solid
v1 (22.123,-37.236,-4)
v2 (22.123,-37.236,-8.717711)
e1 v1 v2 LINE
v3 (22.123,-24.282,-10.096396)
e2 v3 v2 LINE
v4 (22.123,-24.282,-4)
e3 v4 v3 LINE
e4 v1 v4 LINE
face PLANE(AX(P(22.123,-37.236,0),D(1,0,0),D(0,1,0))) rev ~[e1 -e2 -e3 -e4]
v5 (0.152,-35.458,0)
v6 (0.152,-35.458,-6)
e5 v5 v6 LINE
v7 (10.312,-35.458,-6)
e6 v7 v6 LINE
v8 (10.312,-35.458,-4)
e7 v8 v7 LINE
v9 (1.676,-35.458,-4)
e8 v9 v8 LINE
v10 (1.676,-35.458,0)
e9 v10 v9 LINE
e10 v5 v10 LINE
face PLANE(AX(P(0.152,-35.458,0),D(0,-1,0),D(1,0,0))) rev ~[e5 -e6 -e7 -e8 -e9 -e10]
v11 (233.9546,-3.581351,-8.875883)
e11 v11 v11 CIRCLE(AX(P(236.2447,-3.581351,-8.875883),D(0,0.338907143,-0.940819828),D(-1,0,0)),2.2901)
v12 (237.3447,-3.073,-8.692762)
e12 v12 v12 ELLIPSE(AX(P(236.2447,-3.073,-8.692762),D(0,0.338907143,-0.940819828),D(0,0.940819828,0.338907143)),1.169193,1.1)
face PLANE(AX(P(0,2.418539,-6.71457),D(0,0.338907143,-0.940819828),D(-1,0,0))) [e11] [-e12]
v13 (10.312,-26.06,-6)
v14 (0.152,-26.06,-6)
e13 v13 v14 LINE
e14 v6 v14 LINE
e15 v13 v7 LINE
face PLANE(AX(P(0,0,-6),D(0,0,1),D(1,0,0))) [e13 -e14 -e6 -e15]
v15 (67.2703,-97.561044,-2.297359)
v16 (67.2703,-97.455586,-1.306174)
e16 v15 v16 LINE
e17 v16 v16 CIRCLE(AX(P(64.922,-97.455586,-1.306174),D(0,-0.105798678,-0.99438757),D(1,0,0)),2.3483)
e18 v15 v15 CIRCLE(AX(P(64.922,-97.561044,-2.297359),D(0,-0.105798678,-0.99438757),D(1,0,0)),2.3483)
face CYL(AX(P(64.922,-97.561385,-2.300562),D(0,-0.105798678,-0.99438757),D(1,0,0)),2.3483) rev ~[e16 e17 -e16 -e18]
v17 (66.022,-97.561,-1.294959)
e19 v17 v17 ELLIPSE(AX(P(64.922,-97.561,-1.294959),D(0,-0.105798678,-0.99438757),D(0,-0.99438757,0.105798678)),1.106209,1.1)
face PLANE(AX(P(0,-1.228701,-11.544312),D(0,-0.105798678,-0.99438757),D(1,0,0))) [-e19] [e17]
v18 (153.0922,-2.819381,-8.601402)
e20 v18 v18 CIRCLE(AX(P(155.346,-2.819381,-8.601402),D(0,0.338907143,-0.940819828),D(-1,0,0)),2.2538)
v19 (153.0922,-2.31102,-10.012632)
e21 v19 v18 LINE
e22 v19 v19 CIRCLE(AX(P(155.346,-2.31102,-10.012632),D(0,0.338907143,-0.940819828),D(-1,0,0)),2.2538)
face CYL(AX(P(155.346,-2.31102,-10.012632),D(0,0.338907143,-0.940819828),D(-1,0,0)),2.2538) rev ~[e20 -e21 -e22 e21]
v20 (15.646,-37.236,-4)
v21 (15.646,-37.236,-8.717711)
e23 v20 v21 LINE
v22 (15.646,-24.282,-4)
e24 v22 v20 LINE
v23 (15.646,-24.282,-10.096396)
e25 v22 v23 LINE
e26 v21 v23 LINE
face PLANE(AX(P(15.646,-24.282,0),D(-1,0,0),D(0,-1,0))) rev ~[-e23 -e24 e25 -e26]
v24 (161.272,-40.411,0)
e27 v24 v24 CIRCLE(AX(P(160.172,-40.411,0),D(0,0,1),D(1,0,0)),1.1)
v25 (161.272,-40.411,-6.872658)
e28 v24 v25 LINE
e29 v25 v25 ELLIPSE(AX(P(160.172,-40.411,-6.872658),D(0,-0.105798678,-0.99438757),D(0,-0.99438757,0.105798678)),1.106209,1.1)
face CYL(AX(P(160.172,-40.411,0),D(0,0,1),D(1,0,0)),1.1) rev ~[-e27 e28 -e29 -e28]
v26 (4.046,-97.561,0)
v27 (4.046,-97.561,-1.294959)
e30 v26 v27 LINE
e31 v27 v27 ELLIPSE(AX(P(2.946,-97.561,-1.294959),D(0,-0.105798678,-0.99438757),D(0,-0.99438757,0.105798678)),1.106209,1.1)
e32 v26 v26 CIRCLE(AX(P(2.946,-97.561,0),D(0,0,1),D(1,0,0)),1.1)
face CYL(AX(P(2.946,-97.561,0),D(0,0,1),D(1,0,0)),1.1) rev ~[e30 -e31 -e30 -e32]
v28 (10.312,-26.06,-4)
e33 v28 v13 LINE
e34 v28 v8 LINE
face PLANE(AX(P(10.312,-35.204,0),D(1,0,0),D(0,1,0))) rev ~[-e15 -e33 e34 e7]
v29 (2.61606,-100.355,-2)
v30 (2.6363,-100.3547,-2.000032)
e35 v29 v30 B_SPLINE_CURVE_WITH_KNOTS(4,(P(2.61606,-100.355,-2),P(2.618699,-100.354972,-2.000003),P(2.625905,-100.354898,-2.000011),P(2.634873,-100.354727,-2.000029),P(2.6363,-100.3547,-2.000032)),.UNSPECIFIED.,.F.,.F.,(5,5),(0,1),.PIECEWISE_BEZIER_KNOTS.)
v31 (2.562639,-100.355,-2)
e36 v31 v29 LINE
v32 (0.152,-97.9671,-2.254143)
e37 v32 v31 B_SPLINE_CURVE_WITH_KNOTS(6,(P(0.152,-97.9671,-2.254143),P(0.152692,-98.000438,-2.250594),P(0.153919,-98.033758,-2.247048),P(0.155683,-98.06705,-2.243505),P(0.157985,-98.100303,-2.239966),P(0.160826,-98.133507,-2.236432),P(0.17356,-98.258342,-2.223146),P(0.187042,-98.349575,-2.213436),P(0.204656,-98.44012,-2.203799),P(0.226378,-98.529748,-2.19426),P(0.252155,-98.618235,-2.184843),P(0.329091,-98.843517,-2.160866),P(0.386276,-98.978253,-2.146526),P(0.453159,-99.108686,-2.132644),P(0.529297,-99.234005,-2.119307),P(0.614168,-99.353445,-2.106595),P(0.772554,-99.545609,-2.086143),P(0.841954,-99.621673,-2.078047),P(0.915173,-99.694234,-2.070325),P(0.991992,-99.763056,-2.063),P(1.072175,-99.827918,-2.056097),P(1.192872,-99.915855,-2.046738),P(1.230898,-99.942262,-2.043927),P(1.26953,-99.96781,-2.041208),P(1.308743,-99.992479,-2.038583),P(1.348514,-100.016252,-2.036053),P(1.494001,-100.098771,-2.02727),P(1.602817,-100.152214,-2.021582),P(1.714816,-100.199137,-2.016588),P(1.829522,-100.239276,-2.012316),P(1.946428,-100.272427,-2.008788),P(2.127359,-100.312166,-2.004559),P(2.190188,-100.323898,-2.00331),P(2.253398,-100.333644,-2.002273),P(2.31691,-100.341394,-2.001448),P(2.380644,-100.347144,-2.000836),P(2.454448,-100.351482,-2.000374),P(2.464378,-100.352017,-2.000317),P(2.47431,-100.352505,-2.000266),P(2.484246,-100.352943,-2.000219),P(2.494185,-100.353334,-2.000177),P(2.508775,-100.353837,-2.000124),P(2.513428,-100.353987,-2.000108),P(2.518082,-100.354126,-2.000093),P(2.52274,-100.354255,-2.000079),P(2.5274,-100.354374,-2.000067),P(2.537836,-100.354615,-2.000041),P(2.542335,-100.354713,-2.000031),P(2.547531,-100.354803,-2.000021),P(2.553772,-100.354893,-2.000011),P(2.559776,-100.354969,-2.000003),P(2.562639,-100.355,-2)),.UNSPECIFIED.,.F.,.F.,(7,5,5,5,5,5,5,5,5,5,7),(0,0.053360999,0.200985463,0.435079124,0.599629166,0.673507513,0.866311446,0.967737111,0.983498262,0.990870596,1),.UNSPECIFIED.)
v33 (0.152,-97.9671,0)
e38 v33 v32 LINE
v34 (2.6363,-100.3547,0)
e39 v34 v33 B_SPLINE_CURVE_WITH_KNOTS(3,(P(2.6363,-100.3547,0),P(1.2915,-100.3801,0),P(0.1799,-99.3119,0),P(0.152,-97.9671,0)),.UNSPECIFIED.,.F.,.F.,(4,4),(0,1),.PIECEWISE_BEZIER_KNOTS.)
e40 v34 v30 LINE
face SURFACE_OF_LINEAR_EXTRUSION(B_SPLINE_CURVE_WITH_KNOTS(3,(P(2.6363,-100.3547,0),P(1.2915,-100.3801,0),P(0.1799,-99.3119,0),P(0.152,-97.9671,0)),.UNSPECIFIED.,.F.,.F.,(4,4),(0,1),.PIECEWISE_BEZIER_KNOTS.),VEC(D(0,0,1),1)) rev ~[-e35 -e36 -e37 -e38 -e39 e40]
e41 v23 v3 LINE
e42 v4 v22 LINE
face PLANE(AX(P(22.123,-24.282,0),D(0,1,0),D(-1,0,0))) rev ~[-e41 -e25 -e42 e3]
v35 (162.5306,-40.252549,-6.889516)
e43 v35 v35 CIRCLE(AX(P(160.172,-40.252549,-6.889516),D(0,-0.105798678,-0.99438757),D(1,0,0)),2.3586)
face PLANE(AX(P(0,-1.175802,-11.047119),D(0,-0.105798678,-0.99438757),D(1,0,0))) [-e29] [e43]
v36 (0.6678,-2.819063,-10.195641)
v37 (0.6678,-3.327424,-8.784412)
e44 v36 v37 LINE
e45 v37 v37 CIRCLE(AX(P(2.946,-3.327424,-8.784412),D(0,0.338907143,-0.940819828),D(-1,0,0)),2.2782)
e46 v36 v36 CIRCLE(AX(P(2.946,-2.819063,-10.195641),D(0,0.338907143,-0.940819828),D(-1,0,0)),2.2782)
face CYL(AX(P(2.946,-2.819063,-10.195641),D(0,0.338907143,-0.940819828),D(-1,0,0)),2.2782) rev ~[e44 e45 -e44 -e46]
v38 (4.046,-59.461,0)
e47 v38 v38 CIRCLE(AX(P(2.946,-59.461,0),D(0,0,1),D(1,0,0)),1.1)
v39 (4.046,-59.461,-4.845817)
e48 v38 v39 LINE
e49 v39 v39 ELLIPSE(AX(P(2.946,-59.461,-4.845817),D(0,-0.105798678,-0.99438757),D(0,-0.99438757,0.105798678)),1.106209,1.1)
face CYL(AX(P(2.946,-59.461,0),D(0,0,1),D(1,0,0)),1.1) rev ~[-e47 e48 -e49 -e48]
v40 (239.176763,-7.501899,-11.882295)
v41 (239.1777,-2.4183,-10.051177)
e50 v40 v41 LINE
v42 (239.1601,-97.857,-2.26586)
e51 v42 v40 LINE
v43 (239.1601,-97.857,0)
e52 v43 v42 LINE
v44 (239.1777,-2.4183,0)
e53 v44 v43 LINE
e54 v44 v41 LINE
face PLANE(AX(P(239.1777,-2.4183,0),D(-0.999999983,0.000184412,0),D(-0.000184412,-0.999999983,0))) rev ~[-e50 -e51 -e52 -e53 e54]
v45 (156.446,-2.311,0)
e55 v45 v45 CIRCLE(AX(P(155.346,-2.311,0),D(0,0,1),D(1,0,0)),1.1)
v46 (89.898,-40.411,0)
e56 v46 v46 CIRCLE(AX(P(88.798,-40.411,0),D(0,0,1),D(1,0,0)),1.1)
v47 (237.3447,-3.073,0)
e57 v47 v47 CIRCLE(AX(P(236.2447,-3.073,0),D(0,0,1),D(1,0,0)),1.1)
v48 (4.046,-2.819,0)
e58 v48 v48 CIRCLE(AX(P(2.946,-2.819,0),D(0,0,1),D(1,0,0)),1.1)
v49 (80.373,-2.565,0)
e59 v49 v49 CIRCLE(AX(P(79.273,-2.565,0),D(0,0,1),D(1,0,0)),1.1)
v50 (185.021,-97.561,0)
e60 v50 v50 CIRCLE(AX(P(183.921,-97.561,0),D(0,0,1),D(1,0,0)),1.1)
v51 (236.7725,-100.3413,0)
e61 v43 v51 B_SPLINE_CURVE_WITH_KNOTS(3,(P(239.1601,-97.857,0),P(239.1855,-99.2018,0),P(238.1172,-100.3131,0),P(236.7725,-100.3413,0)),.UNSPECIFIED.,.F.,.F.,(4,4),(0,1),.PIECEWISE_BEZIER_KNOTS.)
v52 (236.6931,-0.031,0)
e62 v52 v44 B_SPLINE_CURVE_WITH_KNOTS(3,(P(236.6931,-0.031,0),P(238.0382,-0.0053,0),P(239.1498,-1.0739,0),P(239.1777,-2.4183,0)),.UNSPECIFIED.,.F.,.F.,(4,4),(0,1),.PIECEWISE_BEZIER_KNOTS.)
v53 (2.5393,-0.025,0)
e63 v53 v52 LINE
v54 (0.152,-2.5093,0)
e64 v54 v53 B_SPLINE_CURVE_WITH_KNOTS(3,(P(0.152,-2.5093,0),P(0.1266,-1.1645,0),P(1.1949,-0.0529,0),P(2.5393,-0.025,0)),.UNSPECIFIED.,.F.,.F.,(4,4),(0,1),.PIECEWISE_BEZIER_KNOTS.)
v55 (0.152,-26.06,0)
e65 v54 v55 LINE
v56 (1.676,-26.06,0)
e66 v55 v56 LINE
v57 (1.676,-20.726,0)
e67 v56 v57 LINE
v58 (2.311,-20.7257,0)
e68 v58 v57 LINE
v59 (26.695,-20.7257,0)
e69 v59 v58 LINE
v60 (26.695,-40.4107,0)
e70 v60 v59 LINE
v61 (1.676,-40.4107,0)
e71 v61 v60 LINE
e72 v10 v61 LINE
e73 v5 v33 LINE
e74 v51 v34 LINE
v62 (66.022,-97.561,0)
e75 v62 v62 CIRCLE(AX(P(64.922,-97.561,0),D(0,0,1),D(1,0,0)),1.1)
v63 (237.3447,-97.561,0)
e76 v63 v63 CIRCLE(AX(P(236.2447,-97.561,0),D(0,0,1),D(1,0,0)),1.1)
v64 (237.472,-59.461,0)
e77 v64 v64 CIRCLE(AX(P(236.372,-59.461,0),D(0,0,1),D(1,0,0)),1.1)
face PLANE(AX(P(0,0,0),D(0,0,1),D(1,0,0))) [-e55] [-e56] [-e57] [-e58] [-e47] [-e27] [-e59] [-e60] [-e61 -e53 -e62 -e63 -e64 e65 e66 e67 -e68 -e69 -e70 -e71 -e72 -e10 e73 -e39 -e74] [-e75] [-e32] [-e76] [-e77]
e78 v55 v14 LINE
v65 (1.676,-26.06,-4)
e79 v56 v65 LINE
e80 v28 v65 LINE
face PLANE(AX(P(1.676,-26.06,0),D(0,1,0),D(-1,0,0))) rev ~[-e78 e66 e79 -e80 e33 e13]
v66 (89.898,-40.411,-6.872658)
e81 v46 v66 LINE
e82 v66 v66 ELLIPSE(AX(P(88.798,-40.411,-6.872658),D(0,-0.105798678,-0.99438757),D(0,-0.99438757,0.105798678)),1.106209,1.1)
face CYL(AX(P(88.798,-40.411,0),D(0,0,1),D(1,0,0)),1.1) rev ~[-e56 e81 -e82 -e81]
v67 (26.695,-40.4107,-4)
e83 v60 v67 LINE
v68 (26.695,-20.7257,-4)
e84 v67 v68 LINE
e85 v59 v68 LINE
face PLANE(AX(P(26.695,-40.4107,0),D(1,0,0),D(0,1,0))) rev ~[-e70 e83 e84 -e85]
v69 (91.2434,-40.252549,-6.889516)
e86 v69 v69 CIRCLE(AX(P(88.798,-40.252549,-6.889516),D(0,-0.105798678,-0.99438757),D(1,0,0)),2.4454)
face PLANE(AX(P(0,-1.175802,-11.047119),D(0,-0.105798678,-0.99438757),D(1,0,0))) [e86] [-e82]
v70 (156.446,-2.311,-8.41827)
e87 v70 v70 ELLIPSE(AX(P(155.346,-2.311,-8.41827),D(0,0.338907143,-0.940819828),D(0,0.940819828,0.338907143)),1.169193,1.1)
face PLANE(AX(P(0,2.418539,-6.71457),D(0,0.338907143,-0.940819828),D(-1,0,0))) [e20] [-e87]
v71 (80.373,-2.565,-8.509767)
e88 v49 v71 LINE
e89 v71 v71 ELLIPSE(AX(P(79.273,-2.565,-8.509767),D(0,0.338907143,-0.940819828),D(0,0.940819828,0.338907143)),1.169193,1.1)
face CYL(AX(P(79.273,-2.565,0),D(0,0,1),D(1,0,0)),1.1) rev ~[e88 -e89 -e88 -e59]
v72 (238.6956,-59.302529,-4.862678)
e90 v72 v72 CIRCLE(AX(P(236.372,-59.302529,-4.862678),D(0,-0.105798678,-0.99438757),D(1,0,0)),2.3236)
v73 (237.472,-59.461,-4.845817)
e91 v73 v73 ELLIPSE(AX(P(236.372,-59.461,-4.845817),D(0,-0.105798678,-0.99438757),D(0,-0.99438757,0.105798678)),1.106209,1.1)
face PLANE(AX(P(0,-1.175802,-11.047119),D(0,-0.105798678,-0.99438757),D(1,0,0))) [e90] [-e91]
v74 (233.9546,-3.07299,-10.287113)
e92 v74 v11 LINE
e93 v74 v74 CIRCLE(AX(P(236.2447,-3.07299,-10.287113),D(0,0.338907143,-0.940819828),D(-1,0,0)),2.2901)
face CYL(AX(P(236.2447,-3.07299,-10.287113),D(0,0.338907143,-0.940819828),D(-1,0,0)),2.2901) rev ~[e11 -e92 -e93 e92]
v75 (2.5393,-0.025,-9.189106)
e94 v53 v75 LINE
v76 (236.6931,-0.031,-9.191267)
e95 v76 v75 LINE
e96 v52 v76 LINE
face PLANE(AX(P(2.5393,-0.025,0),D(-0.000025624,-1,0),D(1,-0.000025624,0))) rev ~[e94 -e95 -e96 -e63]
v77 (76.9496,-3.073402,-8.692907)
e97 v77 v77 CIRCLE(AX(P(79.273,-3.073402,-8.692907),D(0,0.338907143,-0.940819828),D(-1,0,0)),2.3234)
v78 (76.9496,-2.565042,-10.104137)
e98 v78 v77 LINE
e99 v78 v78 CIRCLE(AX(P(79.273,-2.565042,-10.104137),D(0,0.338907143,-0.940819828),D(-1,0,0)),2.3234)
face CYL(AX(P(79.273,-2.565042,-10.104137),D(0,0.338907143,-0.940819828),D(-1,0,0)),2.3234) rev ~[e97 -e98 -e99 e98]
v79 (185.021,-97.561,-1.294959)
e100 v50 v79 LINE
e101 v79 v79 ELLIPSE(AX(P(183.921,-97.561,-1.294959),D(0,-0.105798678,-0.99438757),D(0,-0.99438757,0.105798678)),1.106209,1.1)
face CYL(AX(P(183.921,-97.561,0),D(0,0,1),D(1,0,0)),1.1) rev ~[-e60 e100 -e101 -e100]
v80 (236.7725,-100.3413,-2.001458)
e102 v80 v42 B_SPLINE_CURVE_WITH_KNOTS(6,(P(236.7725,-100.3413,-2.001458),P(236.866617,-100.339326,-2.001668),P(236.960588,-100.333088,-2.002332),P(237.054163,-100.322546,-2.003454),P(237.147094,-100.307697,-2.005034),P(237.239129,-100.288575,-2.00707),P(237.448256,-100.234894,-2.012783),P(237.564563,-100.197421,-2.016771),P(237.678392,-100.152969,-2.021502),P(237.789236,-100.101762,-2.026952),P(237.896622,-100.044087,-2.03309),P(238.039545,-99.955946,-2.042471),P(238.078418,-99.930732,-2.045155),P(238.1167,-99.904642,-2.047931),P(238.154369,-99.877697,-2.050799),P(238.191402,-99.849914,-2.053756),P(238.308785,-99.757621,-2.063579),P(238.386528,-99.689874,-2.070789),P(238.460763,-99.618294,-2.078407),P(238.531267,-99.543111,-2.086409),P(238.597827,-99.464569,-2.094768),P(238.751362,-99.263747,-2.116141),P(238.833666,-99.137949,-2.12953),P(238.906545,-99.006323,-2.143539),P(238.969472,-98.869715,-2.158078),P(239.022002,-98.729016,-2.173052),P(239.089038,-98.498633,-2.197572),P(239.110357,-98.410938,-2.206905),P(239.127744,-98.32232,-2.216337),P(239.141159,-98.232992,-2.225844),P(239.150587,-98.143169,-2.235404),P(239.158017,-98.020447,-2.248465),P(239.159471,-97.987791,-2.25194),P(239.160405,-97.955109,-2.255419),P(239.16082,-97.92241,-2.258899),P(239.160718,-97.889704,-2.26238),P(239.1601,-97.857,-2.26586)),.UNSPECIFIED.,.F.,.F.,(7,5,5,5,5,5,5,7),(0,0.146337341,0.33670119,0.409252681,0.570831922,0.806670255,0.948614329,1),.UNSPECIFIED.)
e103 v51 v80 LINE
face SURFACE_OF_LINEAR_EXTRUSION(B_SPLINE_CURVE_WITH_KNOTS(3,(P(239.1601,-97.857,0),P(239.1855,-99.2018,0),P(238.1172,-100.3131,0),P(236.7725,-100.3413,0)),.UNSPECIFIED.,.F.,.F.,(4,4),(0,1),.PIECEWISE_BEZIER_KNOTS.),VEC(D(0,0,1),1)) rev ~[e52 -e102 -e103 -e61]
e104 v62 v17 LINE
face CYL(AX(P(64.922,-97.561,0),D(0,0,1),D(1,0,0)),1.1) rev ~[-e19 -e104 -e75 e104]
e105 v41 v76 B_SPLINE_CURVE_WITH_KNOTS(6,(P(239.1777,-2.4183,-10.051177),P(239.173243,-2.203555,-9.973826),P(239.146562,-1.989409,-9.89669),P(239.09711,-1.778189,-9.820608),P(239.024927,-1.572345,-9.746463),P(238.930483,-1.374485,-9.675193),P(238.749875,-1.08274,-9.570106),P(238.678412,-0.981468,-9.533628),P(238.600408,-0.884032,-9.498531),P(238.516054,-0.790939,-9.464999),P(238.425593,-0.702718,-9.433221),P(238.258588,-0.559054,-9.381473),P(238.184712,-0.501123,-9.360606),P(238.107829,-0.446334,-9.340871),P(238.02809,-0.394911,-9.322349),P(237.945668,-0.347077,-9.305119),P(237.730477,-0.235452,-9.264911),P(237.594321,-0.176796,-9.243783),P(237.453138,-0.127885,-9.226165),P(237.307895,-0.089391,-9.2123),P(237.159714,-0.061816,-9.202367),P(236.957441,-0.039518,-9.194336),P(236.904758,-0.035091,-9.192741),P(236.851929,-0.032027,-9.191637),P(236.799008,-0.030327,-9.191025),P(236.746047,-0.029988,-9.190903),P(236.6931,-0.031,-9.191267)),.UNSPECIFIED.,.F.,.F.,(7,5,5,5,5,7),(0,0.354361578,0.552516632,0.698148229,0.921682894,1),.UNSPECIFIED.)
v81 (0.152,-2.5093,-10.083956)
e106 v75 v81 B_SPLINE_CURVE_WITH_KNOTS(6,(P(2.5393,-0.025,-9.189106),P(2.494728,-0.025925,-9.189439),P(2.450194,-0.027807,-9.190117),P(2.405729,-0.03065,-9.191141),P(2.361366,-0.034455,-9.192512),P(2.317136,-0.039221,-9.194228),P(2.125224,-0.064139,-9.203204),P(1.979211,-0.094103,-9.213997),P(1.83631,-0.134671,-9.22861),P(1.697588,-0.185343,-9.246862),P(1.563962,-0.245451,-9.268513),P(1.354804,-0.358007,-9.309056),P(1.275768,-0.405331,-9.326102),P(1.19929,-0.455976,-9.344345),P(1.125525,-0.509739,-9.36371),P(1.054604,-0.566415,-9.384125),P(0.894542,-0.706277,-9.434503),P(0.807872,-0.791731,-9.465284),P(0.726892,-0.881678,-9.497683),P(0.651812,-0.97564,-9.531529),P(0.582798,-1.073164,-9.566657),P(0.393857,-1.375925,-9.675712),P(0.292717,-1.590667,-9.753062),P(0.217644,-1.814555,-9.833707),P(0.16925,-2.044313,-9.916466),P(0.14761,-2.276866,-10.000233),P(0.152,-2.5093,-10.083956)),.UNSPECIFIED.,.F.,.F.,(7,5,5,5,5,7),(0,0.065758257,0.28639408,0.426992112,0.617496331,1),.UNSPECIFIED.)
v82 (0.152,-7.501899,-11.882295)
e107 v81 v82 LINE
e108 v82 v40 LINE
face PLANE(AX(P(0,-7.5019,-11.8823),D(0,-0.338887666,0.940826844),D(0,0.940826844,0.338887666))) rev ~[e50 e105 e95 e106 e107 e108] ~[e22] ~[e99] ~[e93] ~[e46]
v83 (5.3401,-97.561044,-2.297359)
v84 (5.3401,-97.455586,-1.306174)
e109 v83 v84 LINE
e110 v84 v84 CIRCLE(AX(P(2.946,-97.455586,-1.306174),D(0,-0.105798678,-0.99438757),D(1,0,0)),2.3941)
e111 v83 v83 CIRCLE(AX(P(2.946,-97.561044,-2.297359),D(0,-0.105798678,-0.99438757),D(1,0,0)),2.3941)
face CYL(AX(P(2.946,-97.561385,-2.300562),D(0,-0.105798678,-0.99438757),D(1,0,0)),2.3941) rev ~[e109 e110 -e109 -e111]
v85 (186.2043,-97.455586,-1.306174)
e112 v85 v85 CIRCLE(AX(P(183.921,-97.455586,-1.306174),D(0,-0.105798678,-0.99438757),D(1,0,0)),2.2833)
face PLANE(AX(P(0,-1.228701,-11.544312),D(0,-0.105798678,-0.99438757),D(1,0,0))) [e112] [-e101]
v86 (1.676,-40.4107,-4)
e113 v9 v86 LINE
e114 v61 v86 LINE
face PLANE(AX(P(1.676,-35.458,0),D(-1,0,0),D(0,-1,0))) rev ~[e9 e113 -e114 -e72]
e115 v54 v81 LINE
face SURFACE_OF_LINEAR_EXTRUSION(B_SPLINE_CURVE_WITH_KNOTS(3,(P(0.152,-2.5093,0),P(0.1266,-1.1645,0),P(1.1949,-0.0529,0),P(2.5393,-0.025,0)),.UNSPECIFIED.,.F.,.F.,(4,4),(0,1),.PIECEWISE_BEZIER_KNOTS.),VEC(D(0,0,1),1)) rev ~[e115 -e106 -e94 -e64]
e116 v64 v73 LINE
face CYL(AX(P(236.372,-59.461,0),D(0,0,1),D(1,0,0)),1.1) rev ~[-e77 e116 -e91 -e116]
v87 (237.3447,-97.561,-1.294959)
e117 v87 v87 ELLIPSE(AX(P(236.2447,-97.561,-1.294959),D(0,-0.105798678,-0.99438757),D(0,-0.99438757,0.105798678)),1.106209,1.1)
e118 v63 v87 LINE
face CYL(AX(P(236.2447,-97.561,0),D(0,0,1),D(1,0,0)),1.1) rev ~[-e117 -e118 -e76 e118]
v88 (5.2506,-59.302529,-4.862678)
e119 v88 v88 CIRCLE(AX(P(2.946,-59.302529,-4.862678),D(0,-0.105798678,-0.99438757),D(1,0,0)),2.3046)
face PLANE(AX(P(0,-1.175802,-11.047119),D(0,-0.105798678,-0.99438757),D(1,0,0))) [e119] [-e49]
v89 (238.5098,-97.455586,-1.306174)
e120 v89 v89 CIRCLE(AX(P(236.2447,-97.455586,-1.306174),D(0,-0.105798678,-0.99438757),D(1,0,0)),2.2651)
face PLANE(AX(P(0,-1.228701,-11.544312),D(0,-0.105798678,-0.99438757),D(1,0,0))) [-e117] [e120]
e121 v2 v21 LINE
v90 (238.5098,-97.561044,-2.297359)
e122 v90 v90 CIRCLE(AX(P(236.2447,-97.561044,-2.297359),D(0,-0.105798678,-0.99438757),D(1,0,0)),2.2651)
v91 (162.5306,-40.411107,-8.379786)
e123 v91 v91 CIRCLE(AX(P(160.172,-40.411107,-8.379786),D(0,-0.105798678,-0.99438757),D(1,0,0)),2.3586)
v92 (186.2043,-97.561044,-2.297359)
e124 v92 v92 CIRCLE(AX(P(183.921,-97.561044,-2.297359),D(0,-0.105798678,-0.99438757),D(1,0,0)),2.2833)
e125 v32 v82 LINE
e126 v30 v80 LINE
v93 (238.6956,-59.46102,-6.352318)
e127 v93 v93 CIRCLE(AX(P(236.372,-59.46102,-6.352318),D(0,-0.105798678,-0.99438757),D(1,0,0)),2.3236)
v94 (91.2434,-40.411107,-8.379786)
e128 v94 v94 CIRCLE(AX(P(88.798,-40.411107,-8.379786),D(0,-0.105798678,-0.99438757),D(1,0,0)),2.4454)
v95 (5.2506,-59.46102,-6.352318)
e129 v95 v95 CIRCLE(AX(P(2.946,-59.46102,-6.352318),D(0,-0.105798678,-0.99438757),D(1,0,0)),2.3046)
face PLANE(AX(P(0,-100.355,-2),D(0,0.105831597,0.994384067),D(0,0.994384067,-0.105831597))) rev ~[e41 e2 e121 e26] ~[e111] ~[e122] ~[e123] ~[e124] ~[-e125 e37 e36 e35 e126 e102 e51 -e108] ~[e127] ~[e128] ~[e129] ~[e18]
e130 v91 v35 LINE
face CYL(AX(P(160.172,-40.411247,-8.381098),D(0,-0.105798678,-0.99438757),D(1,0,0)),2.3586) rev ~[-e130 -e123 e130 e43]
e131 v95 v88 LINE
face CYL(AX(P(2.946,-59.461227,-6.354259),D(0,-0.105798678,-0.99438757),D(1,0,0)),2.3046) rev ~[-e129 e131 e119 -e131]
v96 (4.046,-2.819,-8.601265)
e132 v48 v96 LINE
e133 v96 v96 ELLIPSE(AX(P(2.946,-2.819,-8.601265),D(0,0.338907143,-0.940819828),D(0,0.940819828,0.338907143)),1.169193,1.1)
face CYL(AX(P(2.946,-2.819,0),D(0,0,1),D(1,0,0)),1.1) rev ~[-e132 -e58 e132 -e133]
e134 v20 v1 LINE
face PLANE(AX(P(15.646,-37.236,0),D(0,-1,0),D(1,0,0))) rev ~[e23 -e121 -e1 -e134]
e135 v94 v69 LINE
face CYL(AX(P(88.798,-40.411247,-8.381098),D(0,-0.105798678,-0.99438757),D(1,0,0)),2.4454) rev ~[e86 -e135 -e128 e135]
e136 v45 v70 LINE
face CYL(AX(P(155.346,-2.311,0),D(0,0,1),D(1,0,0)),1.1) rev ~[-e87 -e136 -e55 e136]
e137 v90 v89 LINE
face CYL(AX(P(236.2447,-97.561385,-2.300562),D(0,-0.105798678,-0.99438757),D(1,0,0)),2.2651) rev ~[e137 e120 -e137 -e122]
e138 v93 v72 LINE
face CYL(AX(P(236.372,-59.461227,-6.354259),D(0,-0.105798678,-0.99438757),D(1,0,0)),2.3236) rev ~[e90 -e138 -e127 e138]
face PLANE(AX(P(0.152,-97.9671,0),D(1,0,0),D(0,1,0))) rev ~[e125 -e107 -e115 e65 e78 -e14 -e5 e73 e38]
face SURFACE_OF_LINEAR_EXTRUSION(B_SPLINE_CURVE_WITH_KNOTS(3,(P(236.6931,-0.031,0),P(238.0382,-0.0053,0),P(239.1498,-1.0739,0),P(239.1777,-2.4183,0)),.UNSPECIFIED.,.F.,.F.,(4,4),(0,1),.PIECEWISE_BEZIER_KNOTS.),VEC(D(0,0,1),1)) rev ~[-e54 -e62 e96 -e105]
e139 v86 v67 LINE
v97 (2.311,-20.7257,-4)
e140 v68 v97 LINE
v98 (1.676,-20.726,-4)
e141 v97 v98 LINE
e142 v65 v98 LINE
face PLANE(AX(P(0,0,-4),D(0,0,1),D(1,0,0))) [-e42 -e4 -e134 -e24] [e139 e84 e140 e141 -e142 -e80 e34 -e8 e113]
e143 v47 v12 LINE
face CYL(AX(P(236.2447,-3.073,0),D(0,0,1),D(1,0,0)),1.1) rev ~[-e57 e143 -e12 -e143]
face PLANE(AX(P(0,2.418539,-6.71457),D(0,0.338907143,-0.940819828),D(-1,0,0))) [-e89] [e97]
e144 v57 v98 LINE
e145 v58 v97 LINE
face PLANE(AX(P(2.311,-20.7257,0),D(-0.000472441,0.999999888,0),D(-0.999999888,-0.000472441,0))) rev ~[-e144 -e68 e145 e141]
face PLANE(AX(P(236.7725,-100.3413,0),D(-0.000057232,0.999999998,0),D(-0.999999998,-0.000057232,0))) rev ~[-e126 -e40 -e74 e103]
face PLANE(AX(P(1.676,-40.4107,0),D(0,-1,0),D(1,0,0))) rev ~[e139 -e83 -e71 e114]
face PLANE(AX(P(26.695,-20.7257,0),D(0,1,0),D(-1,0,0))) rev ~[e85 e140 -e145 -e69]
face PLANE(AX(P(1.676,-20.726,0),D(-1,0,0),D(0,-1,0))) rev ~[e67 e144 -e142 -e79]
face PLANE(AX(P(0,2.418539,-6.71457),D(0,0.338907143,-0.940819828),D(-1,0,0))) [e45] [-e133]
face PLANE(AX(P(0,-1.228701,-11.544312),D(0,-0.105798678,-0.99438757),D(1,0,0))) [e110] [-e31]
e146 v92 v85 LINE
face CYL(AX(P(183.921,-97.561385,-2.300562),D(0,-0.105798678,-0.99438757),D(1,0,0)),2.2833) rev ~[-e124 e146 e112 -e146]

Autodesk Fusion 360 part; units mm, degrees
sketch "スケッチ1" plane through (0, 0, 0) normal (0, 0, 1) x (1, 0, 0)
  line L0 (239.1777, -2.4183) -> (239.1601, -97.857)
  spline S0 degree 3 poles (239.1601, -97.857) (239.1855, -99.2018) (238.1172, -100.3131) (236.7725, -100.3413) knots 0 0 0 0 1 1 1 1
  line L1 (236.7725, -100.3413) -> (2.6363, -100.3547)
  spline S1 degree 3 poles (2.6363, -100.3547) (1.2915, -100.3801) (0.1799, -99.3119) (0.152, -97.9671) knots 0 0 0 0 1 1 1 1
  line L2 (0.152, -97.9671) -> (0.152, -2.5093)
  spline S2 degree 3 poles (0.152, -2.5093) (0.1266, -1.1645) (1.1949, -0.0529) (2.5393, -0.025) knots 0 0 0 0 1 1 1 1
  line L3 (2.5393, -0.025) -> (236.6931, -0.031)
  spline S3 degree 3 poles (236.6931, -0.031) (238.0382, -0.0053) (239.1498, -1.0739) (239.1777, -2.4183) knots 0 0 0 0 1 1 1 1
  line L4 (1.676, -20.726) -> (1.676, -20.98)
  line L5 (1.676, -20.98) -> (1.676, -40.4107)
  line L6 (1.676, -40.4107) -> (26.695, -40.4107)
  line L7 (26.695, -40.4107) -> (26.695, -20.7257)
  line L8 (26.695, -20.7257) -> (2.311, -20.7257)
  line L9 (2.311, -20.7257) -> (1.676, -20.726)
  line L10 (1.676, -20.726) -> (1.676, -20.98)
  line L11 (10.312, -35.204) -> (10.312, -35.458)
  line L12 (2.692, -26.06) -> (0.025, -26.06)
  line L13 (0.025, -26.06) -> (0.025, -35.458)
  line L14 (0.025, -35.458) -> (10.312, -35.458)
  line L15 (10.312, -35.458) -> (10.312, -35.204)
  line L16 (10.312, -35.204) -> (10.312, -26.06)
  line L17 (10.312, -26.06) -> (2.692, -26.06)
  line L18 (22.123, -37.236) -> (22.123, -24.282)
  line L19 (22.123, -24.282) -> (15.646, -24.282)
  line L20 (15.646, -24.282) -> (15.646, -37.236)
  line L21 (15.646, -37.236) -> (22.123, -37.236)
  circle A0 centre (155.346, -2.311) radius 1.1
  circle A1 centre (236.2447, -3.073) radius 1.1
  circle A2 centre (183.921, -97.561) radius 1.1
  circle A3 centre (2.946, -97.561) radius 1.1
  circle A4 centre (2.946, -59.461) radius 1.1
  circle A5 centre (88.798, -40.411) radius 1.1
  circle A6 centre (64.922, -97.561) radius 1.1
  circle A7 centre (160.172, -40.411) radius 1.1
  circle A8 centre (79.273, -2.565) radius 1.1
  circle A9 centre (236.372, -59.461) radius 1.1
  circle A10 centre (236.2447, -97.561) radius 1.1
  circle A11 centre (2.946, -2.819) radius 1.1
  point P0 (156.446, -2.311)
  point P1 (237.3447, -3.073)
  point P2 (185.021, -97.561)
  point P3 (4.046, -97.561)
  point P4 (4.046, -59.461)
  point P5 (89.898, -40.411)
  point P6 (66.022, -97.561)
  point P7 (161.272, -40.411)
  point P8 (80.373, -2.565)
  point P9 (237.472, -59.461)
  point P10 (237.3447, -97.561)
  point P11 (4.046, -2.819)
extrude "押し出し1" add sketch "スケッチ1" against normal blind 40 contours L0 S0 L1 S1 L2 S2 L3 S3 L4 L5 L6 L7 L8 L9 L10 L12 L14 | L2 L5 L12 L14 | L5 L11 L12 L14 L15 L16 L17 | L4 L5 L6 L7 L8 L9 L10 L11 L12 L14 L15 L16 L17 | L18 L19 L20 L21
extrude "押し出し2" cut sketch "スケッチ1" against normal blind 6 contours L2 L5 L12 L14 | L5 L11 L12 L14 L15 L16 L17
extrude "押し出し3" cut sketch "スケッチ1" against normal blind 4 contours L4 L5 L6 L7 L8 L9 L10 L11 L12 L14 L15 L16 L17
extrude "押し出し4" cut sketch "スケッチ1" against normal blind 40 contours L18 L19 L20 L21
sketch "スケッチ2" plane through (0, 0, 0) normal (1, 0, 0) x (0, 1, 0)
  line L0 (-100.355, 0) -> (-100.355, -2)
  line L1 (-100.355, -2) -> (3, -13)
  line L2 (-7.5019, -11.8823) -> (0.5, -9)
  line L3 (-100.355, -2) -> (-100.57, -2)
  line L4 (-100.57, -2) -> (-100.57, -3.4)
  line L5 (-100.57, -3.4) -> (-100.57, -40.4093)
  line L6 (-100.57, -40.4093) -> (-74, -40.4093)
  line L7 (-74, -40.4093) -> (1, -40.4093)
  line L8 (1, -40.4093) -> (0.5, -9)
  dimension "d9" = 2
extrude "押し出し5" cut sketch "スケッチ2" along normal blind 400 contours L1 L3 L4 L5 L6 L7 L8
extrude "押し出し6" cut sketch "スケッチ2" along normal blind 400 contours L1 L2 L8
sketch "スケッチ3" plane through (0, 0, 0) normal (1, 0, 0) x (0, 1, 0)
  line L0 (0.1398, 0.1029) -> (-26.06, 0.1029)
sketch "スケッチ4" plane through (0, -1.3345, -12.5387) normal (0, -0.1058, -0.9944) x (1, 0, 0)
  ellipse E0 centre (160.172, 39.2973) end of major axis (160.172, 38.1911) minor radius 1.1
  ellipse E1 centre (236.2447, 96.77) end of major axis (236.2447, 95.6638) minor radius 1.1
  ellipse E2 centre (183.921, 96.77) end of major axis (183.921, 95.6638) minor radius 1.1
  ellipse E3 centre (236.372, 58.4548) end of major axis (236.372, 57.3487) minor radius 1.1
  ellipse E4 centre (88.798, 39.2973) end of major axis (88.798, 38.1911) minor radius 1.1
  ellipse E5 centre (2.946, 96.77) end of major axis (2.946, 95.6638) minor radius 1.1
  ellipse E6 centre (2.946, 58.4548) end of major axis (2.946, 57.3487) minor radius 1.1
  ellipse E7 centre (64.922, 96.77) end of major axis (64.922, 95.6638) minor radius 1.1
  line L0 (22.123, 36.1043) -> (22.123, 23.0772)
  line L1 (22.123, 23.0772) -> (15.646, 23.0772)
  line L2 (15.646, 23.0772) -> (15.646, 36.1043)
  line L3 (15.646, 36.1043) -> (22.123, 36.1043)
  line L4 (0.152, 6.2022) -> (239.1768, 6.2022)
  line L5 (239.1768, 6.2022) -> (239.1601, 97.0677)
  spline S0 degree 3 poles (236.7725, 99.566) (236.9396, 99.5624) (237.1056, 99.542) (237.4266, 99.4681) (237.5804, 99.4159) (238.0207, 99.2151) (238.2841, 99.0244) (238.7171, 98.5588) (238.8855, 98.2893) (239.1117, 97.6993) (239.166, 97.3855) (239.1601, 97.0677) knots -0.385662 -0.385662 -0.385662 -0.385662 -0.335417 -0.335417 -0.286659 -0.286659 -0.189937 -0.189937 -0.095378 -0.095378 0 0 0 0
  line L6 (236.7725, 99.566) -> (2.6363, 99.5794)
  spline S1 degree 3 poles (2.6151, 99.5798) (2.6222, 99.5797) (2.6292, 99.5796) (2.6363, 99.5794) knots -0.002119 -0.002119 -0.002119 -0.002119 0 0 0 0
  line L7 (2.6151, 99.5798) -> (2.5636, 99.5798)
  spline S2 degree 3 poles (0.152, 97.1784) (0.1556, 97.3498) (0.1766, 97.52) (0.2528, 97.8488) (0.3067, 98.0062) (0.5108, 98.4494) (0.702, 98.7126) (1.1661, 99.1426) (1.4326, 99.3091) (1.9922, 99.5233) (2.2757, 99.5767) (2.5636, 99.5798) knots -0.385525 -0.385525 -0.385525 -0.385525 -0.334027 -0.334027 -0.284114 -0.284114 -0.187392 -0.187392 -0.093864 -0.093864 -0.00728 -0.00728 -0.00728 -0.00728
  line L8 (0.152, 97.1784) -> (0.152, 6.2022)
  circle A0 centre (2.946, 96.77) radius 2.3941
  circle A1 centre (2.946, 58.4548) radius 2.3046
  circle A2 centre (64.922, 96.77) radius 2.3483
  circle A3 centre (183.921, 96.77) radius 2.2833
  circle A4 centre (236.2447, 96.77) radius 2.2651
  circle A5 centre (236.372, 58.4548) radius 2.3236
  circle A6 centre (160.172, 39.2973) radius 2.3586
  circle A7 centre (88.798, 39.2973) radius 2.4454
extrude "押し出し7" cut sketch "スケッチ4" against normal blind 1 contours E5 | A0
extrude "押し出し8" cut sketch "スケッチ4" against normal blind 1 contours E7 | A2
extrude "押し出し9" cut sketch "スケッチ4" against normal blind 1 contours E2 | A3
extrude "押し出し10" cut sketch "スケッチ4" against normal blind 1 contours E1 | A4
extrude "押し出し11" cut sketch "スケッチ4" against normal blind 1.5 contours E6 | A1
extrude "押し出し12" cut sketch "スケッチ4" against normal blind 1.5 contours E4 | A7
extrude "押し出し13" cut sketch "スケッチ4" against normal blind 1.5 contours E0 | A6
extrude "押し出し14" cut sketch "スケッチ4" against normal blind 1.5 contours E3 | A5
sketch "スケッチ5" plane through (0, 2.9269, -8.1258) normal (0, 0.3389, -0.9408) x (-1, 0, 0)
  line L0 (-0.152, -11.0847) -> (-0.152, -5.7781)
  spline S0 degree 3 poles (-2.5393, -3.1376) (-2.3792, -3.1412) (-2.2204, -3.1611) (-1.9125, -3.2329) (-1.7647, -3.2837) (-1.3412, -3.4784) (-1.0881, -3.6623) (-0.6398, -4.1342) (-0.4566, -4.4267) (-0.2063, -5.0743) (-0.1458, -5.4243) (-0.152, -5.7781) knots -0.397498 -0.397498 -0.397498 -0.397498 -0.349267 -0.349267 -0.302241 -0.302241 -0.208829 -0.208829 -0.106159 -0.106159 0 0 0 0
  line L1 (-2.5393, -3.1376) -> (-236.6931, -3.144)
  spline S1 degree 3 poles (-239.1777, -5.6814) (-239.1738, -5.4825) (-239.1489, -5.285) (-239.0577, -4.9055) (-238.9933, -4.7246) (-238.7664, -4.2552) (-238.5683, -3.9872) (-238.1011, -3.5623) (-237.8426, -3.4012) (-237.2827, -3.1885) (-236.9901, -3.138) (-236.6931, -3.144) knots -0.395915 -0.395915 -0.395915 -0.395915 -0.3363 -0.3363 -0.278857 -0.278857 -0.179915 -0.179915 -0.08914 -0.08914 0 0 0 0
  line L2 (-239.1777, -5.6814) -> (-239.1768, -11.0847)
  line L3 (-239.1768, -11.0847) -> (-0.152, -11.0847)
  ellipse E0 centre (-155.346, -5.5674) end of major axis (-155.346, -4.3983) minor radius 1.1
  ellipse E1 centre (-2.946, -6.1074) end of major axis (-2.946, -4.9382) minor radius 1.1
  ellipse E2 centre (-236.2447, -6.3773) end of major axis (-236.2447, -5.2082) minor radius 1.1
  ellipse E3 centre (-79.273, -5.8374) end of major axis (-79.273, -4.6682) minor radius 1.1
  circle A0 centre (-2.946, -6.1074) radius 2.2782
  circle A1 centre (-79.273, -5.8374) radius 2.3234
  circle A2 centre (-155.346, -5.5674) radius 2.2538
  circle A3 centre (-236.2447, -6.3773) radius 2.2901
extrude "押し出し15" cut sketch "スケッチ5" against normal blind 1.5 contours E1 | A0
extrude "押し出し16" cut sketch "スケッチ5" against normal blind 1.5 contours E3 | A1
extrude "押し出し17" cut sketch "スケッチ5" against normal blind 1.5 contours E0 | A2
extrude "押し出し18" cut sketch "スケッチ5" against normal blind 1.5 contours E2 | A3
